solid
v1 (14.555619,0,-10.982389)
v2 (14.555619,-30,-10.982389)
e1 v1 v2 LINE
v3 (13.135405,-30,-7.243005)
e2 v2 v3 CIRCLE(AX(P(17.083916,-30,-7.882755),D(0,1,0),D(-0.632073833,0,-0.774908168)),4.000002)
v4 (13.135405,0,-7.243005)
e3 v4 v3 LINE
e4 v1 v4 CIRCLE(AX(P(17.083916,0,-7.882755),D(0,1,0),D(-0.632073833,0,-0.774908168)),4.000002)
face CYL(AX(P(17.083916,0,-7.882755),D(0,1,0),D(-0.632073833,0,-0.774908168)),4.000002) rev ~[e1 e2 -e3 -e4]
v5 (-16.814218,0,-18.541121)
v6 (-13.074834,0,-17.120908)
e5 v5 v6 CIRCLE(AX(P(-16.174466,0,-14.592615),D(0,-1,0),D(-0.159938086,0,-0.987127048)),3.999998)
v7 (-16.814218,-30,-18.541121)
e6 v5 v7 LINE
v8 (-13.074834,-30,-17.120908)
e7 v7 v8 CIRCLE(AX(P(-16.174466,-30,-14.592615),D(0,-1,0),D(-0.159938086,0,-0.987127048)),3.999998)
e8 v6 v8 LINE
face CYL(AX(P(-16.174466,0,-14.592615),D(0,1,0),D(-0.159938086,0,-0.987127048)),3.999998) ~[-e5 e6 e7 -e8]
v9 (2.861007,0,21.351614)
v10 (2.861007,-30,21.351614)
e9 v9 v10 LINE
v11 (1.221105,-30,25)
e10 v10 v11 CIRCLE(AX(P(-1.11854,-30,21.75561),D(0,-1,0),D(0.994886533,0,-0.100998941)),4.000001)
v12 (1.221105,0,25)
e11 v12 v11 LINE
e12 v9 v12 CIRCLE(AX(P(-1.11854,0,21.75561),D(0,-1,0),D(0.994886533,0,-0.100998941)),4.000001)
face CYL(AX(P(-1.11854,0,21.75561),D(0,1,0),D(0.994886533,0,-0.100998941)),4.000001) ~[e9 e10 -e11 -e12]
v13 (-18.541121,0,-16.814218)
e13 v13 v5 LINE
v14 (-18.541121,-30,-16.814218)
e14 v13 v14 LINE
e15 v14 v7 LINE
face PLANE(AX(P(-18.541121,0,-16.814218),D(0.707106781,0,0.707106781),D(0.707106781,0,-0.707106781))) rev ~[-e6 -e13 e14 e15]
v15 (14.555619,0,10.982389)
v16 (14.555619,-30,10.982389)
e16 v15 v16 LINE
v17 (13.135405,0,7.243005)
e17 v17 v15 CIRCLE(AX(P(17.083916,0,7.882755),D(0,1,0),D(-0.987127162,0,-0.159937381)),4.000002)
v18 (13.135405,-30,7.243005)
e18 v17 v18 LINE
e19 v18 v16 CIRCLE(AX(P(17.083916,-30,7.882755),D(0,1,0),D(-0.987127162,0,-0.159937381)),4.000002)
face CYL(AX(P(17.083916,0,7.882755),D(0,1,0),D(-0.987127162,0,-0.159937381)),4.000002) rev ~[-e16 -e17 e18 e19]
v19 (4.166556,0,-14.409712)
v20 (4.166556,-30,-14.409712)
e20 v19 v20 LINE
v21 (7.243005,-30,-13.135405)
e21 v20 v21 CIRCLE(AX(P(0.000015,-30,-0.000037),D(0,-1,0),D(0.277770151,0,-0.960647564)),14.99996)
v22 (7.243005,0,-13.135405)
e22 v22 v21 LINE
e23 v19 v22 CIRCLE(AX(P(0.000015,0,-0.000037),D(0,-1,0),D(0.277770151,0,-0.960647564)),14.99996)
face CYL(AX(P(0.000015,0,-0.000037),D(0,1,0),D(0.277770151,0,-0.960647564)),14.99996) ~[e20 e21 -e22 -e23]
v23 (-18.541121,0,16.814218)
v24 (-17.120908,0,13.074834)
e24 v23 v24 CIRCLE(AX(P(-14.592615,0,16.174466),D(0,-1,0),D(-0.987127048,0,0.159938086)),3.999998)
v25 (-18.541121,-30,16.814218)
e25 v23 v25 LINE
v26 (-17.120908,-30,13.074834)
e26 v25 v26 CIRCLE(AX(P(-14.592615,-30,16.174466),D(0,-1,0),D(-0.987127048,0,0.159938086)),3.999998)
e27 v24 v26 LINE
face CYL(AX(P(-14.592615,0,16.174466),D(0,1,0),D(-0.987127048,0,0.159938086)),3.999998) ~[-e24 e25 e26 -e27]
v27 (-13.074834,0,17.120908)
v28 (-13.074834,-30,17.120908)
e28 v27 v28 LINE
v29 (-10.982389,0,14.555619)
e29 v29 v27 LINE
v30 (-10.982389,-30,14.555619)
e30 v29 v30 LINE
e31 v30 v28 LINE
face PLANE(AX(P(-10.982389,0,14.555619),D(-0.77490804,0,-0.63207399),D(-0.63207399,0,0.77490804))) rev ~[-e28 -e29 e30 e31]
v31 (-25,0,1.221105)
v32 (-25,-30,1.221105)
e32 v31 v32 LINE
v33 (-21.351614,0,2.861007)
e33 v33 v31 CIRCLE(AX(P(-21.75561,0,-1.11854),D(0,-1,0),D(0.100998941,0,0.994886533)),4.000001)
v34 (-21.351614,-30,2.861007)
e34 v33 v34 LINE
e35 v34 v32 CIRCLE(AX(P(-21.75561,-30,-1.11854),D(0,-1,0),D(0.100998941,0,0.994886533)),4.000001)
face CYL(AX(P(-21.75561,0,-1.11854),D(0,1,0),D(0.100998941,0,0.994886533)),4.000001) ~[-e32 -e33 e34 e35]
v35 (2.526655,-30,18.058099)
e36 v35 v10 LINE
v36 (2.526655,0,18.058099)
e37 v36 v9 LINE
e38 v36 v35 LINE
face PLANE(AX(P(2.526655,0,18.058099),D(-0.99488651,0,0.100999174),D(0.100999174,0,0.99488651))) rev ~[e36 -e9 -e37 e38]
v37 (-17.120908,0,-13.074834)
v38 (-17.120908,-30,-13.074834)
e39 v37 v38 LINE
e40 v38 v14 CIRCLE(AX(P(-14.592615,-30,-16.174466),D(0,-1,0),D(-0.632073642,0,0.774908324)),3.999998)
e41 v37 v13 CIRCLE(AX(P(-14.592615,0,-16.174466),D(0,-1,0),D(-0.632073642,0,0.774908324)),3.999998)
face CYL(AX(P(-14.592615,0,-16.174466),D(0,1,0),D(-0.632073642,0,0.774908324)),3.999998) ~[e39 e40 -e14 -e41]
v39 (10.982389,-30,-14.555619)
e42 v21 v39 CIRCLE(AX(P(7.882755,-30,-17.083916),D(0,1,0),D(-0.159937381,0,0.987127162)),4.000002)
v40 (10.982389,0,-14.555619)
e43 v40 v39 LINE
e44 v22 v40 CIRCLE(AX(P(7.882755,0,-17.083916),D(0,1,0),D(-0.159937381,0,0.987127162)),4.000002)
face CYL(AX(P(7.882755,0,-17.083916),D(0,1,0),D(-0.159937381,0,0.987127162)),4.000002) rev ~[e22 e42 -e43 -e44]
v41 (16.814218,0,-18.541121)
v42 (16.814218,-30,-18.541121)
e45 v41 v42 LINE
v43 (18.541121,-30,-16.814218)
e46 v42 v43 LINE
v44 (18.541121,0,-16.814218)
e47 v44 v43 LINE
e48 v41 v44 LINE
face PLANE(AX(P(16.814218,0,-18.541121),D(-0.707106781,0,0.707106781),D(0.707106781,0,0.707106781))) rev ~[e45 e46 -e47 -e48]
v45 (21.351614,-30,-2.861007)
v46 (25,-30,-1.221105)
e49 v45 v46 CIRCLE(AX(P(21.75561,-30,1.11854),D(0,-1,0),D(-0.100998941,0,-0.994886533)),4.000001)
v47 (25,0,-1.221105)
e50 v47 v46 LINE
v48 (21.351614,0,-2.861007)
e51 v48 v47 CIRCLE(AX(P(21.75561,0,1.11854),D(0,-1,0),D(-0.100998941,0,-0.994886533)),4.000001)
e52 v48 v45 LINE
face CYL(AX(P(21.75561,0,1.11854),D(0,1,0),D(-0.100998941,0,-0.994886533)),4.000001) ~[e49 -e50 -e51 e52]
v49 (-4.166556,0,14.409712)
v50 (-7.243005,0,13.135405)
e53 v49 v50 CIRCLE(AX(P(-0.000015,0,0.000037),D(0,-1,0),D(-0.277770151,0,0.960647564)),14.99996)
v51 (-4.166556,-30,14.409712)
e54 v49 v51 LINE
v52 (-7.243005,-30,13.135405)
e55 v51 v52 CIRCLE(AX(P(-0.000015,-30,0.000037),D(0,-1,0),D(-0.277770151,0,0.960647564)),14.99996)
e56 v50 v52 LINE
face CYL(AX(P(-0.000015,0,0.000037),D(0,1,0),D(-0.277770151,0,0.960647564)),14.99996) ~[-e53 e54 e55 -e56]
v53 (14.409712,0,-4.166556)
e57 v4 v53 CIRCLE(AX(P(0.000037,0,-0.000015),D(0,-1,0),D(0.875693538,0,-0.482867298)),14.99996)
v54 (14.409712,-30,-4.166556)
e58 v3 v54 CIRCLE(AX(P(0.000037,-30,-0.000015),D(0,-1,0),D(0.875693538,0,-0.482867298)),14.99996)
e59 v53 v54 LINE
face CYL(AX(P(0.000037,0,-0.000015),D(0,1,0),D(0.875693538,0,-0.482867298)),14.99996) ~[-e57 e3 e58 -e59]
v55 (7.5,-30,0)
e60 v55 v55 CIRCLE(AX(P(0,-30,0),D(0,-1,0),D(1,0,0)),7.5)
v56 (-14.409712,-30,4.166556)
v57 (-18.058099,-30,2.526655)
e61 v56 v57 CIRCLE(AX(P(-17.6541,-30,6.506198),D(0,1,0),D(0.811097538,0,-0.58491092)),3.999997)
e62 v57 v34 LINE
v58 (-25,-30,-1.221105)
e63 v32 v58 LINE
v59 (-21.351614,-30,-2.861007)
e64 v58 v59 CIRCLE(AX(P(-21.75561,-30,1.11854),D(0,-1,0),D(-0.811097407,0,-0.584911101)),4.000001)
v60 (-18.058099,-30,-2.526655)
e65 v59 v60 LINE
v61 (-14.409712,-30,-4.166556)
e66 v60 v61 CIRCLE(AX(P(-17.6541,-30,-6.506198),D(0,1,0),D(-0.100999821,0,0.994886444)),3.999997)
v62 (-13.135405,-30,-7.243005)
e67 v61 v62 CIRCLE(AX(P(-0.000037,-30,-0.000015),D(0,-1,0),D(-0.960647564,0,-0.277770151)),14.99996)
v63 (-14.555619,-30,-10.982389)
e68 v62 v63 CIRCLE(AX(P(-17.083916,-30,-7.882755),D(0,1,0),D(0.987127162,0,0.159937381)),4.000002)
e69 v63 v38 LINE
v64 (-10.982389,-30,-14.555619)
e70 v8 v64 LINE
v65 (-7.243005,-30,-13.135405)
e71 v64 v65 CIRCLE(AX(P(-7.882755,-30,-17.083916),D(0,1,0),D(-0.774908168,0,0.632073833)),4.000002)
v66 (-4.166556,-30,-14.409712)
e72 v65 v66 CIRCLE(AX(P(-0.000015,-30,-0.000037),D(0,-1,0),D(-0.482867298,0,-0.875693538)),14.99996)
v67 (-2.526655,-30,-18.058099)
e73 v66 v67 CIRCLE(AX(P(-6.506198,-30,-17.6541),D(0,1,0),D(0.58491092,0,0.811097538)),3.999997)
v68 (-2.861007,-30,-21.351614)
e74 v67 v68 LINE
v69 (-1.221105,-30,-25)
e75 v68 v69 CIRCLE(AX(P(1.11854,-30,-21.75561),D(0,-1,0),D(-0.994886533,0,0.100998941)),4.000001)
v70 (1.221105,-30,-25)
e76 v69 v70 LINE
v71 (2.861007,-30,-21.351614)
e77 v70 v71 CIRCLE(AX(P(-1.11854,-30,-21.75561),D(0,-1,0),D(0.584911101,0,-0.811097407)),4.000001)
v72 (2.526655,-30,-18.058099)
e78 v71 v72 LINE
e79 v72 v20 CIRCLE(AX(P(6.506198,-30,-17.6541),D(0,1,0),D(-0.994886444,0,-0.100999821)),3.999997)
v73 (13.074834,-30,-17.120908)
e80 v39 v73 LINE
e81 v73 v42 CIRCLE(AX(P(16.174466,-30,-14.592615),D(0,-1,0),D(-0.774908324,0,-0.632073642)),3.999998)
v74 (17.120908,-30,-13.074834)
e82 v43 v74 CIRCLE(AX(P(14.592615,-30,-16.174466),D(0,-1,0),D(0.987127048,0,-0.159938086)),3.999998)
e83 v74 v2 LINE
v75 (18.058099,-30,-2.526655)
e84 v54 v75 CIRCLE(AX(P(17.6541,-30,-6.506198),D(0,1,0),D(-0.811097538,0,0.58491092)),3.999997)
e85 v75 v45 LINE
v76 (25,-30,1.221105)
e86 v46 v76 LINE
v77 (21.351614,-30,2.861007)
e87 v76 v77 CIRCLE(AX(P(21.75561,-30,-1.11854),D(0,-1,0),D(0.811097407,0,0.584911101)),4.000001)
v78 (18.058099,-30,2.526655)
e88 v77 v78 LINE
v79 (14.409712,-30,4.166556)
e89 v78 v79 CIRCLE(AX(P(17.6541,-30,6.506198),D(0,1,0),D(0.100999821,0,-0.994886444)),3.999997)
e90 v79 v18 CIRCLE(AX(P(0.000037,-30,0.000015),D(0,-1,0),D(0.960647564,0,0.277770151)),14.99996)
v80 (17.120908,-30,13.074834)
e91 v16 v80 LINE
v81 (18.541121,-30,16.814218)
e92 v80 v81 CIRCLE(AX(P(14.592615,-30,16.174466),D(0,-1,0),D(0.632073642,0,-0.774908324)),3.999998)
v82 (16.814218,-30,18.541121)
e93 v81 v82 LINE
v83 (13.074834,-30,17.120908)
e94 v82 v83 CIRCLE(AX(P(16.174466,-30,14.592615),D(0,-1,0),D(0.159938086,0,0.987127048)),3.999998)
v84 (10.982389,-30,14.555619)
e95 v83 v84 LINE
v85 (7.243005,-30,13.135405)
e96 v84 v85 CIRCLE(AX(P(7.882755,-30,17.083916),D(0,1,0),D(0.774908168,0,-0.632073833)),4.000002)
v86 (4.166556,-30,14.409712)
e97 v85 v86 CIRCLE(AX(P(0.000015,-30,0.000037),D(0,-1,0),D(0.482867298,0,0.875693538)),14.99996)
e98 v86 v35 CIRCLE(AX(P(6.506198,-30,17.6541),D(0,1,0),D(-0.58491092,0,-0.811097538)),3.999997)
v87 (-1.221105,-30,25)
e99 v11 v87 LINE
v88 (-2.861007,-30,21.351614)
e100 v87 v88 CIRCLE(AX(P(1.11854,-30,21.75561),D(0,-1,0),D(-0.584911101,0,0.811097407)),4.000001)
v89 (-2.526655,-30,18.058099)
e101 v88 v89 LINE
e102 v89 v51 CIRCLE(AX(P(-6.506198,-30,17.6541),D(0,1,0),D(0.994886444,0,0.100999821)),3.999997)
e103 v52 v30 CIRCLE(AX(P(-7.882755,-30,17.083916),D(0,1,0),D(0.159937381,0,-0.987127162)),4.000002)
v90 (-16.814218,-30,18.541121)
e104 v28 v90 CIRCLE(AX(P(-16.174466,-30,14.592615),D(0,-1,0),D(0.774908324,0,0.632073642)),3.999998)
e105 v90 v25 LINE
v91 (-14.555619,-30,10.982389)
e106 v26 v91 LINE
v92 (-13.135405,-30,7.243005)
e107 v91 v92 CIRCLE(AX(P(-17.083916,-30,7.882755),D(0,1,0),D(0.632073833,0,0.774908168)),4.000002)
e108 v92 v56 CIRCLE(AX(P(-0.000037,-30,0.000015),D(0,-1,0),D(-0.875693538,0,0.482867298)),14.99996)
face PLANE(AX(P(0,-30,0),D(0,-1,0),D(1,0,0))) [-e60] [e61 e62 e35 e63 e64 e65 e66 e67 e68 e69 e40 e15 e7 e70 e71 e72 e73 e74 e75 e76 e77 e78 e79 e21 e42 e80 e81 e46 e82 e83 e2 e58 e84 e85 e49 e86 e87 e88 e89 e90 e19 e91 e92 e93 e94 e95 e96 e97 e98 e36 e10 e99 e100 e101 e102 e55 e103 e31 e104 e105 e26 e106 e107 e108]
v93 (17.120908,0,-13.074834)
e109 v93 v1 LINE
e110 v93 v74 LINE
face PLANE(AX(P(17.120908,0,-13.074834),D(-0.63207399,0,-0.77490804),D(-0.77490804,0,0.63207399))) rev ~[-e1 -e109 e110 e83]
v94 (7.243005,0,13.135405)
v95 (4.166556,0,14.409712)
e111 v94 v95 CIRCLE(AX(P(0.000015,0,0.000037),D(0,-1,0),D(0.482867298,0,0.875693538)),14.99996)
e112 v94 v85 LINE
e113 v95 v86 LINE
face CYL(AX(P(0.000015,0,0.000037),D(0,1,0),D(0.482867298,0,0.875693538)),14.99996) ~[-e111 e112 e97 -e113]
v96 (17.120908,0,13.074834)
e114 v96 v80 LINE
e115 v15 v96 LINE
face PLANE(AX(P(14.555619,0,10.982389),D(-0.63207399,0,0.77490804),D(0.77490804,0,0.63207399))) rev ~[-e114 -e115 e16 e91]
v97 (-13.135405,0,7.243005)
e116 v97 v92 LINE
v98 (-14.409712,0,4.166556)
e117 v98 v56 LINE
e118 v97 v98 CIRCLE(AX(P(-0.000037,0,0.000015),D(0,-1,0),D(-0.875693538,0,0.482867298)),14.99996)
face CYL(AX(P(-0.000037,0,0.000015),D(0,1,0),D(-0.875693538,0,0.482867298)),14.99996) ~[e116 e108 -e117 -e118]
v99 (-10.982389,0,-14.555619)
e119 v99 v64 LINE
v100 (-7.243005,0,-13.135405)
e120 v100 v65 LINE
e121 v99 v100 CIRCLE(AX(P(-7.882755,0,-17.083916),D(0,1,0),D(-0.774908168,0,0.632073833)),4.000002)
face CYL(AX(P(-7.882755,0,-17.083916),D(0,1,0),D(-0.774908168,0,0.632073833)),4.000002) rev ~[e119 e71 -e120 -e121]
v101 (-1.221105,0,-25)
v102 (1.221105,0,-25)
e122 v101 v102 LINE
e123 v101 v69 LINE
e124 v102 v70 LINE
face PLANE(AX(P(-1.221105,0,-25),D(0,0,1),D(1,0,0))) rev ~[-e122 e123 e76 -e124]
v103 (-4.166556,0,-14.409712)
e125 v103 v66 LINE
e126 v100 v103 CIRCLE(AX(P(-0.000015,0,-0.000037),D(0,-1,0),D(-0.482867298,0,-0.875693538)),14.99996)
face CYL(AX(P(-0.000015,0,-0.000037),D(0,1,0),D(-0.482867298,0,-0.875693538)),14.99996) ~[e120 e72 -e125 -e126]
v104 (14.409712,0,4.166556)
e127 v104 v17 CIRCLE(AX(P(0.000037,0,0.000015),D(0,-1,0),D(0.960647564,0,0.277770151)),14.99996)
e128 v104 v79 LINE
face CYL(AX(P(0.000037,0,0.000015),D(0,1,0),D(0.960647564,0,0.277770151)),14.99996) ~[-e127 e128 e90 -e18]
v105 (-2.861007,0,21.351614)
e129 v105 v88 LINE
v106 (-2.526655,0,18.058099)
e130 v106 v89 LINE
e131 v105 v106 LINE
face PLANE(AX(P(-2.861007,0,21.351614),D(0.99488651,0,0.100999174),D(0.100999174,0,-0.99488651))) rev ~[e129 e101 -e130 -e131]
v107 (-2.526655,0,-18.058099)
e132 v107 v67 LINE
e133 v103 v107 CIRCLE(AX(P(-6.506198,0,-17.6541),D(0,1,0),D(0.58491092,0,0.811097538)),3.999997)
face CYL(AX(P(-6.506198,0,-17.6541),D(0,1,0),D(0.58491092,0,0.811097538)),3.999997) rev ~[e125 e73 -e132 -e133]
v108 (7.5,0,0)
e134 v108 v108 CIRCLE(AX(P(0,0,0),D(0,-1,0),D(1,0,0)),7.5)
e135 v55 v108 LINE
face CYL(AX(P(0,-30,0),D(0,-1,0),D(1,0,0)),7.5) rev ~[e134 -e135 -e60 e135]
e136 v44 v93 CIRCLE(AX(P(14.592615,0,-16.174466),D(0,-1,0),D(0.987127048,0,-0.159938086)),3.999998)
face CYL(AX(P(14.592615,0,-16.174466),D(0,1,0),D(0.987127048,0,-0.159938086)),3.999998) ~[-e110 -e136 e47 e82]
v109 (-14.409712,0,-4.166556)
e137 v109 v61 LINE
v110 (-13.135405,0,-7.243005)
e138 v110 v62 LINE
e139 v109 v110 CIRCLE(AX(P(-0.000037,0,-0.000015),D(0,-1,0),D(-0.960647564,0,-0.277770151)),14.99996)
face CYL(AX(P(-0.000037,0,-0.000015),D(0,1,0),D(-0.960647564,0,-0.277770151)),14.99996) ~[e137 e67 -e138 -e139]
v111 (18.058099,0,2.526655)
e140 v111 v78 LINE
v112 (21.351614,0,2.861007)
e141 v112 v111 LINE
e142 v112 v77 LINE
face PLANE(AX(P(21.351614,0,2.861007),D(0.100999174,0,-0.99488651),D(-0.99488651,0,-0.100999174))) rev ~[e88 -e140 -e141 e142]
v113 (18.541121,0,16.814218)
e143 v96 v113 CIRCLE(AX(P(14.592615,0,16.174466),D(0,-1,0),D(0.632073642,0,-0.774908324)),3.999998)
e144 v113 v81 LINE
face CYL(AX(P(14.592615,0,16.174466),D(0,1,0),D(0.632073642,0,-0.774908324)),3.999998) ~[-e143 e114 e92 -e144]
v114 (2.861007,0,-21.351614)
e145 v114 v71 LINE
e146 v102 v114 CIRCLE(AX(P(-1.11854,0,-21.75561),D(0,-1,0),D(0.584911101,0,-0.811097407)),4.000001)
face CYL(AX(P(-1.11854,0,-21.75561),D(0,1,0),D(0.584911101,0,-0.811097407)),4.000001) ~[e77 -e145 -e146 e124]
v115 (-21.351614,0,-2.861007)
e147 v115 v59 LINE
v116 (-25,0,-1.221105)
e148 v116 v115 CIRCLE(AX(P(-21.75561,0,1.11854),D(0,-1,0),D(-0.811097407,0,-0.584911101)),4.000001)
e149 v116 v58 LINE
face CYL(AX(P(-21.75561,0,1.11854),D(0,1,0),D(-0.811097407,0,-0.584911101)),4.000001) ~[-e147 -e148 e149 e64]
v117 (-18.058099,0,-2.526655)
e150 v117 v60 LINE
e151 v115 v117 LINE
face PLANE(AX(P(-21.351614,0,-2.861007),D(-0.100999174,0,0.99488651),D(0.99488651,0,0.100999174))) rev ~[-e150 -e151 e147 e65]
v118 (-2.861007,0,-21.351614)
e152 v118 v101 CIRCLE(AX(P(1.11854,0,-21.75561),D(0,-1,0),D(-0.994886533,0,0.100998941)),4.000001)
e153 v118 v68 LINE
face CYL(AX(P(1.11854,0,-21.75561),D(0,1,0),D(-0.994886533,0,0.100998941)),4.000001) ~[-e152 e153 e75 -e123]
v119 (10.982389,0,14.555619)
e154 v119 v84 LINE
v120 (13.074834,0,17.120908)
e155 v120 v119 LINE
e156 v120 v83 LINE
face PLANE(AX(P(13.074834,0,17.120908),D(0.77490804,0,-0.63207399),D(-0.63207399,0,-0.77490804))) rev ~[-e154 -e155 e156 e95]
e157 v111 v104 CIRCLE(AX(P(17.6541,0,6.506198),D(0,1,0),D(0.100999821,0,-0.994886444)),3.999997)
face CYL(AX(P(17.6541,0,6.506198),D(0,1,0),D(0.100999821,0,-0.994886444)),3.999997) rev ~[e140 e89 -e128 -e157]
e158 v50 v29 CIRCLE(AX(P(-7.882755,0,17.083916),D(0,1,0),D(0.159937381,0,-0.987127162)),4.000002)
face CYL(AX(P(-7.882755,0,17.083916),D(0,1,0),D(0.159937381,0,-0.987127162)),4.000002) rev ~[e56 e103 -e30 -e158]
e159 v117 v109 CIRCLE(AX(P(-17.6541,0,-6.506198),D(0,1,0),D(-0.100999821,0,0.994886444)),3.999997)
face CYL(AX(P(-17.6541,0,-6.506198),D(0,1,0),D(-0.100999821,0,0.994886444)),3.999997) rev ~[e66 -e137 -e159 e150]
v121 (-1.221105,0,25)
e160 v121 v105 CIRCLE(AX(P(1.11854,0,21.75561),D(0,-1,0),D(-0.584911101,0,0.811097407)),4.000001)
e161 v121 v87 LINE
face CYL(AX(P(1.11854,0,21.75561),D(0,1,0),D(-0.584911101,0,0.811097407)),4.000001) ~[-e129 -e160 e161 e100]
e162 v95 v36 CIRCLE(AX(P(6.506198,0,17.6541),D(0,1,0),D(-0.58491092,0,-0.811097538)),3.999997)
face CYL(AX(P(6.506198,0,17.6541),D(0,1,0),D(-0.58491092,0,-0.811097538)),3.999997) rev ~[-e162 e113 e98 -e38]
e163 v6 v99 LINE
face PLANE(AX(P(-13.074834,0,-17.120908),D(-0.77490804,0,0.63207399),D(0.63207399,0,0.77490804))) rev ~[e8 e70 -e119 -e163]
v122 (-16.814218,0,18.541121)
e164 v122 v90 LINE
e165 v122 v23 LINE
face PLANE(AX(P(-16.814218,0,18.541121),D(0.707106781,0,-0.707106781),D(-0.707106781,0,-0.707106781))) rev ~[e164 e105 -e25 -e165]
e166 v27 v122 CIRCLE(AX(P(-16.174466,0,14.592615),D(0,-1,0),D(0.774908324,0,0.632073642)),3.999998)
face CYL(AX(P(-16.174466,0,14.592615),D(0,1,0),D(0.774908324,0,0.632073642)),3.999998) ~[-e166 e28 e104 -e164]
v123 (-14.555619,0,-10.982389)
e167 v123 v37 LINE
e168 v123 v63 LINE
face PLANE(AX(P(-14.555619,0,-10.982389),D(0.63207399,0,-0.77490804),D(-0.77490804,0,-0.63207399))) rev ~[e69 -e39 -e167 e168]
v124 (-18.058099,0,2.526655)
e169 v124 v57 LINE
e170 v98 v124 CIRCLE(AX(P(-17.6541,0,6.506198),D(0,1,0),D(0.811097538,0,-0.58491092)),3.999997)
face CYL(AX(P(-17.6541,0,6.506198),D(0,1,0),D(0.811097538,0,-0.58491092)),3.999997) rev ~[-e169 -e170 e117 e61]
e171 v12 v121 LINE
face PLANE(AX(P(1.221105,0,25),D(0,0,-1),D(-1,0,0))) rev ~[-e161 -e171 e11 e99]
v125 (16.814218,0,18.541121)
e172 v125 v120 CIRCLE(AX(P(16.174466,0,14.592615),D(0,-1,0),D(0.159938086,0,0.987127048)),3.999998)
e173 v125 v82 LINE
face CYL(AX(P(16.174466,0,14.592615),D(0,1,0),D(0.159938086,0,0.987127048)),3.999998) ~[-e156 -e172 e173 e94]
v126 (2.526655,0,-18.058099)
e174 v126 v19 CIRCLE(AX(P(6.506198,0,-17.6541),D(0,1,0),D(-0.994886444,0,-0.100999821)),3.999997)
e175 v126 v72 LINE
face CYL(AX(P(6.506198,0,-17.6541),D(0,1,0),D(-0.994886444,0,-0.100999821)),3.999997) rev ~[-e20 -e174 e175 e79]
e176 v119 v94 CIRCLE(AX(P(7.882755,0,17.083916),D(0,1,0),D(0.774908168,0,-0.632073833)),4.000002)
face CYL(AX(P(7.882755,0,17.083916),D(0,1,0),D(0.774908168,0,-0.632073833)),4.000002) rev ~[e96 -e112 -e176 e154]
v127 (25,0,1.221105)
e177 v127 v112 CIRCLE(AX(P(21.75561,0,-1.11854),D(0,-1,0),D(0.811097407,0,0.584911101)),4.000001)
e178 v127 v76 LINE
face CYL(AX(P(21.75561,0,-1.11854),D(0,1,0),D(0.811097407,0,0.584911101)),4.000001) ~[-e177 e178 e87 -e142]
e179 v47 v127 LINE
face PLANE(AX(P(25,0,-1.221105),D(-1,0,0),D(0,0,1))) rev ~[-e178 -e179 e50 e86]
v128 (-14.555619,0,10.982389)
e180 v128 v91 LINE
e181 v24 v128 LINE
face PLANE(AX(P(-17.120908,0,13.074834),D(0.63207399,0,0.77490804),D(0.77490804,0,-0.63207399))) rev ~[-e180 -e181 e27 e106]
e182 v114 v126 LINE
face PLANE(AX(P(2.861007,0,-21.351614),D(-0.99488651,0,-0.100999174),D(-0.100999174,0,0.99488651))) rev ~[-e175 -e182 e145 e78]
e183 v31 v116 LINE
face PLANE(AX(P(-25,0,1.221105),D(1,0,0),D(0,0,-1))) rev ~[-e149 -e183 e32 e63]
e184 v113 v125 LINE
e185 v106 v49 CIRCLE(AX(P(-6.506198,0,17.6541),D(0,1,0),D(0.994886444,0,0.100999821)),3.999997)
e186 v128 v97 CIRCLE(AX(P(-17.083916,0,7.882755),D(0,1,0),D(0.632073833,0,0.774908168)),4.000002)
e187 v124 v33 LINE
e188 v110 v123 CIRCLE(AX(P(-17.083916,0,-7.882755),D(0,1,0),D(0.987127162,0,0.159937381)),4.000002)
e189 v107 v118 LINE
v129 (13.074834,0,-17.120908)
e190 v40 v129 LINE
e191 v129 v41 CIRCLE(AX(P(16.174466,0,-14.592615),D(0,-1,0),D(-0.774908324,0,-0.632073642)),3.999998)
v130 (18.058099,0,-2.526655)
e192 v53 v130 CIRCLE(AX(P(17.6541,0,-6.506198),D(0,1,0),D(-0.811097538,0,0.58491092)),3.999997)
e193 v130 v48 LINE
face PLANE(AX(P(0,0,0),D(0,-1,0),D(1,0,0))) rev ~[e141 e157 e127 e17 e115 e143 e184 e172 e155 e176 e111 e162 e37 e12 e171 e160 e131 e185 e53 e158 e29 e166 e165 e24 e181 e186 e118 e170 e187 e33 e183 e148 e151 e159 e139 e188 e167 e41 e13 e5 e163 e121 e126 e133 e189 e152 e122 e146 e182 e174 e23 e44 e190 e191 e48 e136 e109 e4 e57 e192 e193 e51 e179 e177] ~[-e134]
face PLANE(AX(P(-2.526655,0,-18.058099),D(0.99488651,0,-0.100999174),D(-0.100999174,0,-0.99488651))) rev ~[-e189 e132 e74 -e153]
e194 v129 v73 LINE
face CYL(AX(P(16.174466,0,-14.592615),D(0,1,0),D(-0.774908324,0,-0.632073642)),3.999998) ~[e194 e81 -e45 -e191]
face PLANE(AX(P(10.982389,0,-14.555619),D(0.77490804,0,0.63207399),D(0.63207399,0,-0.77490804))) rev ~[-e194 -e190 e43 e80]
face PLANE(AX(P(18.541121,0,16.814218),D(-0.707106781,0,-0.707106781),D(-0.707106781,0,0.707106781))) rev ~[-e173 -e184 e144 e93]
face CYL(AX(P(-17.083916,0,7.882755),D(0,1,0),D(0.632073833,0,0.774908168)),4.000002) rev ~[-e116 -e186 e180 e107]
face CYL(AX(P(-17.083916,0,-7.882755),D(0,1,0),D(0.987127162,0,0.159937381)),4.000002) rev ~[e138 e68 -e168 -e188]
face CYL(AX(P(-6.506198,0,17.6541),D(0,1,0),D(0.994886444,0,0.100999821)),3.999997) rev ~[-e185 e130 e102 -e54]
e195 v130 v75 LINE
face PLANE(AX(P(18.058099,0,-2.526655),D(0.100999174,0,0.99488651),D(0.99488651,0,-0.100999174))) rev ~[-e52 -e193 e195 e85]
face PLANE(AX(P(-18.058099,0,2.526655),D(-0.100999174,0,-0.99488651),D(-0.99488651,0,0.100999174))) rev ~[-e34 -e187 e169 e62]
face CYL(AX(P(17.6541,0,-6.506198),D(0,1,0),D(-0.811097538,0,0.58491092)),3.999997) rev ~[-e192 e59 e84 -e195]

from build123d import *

# Parameters (mm, degrees)
F1_DEPTH = 30
F2_R     = 7.5
F3_DEPTH = 30.001


with BuildPart() as f1:
    # F0 (on Front) → F1 (new body)
    with BuildSketch(Plane.XZ):
        with BuildLine():
            ThreePointArc((-14.555619, 10.982389), (-13.34453, 9.30297), (-13.135405, 7.243005))
            ThreePointArc((-13.135405, 7.243005), (-13.858193, 5.740251), (-14.409712, 4.166556))
            ThreePointArc((-14.409712, 4.166556), (-16.0142, 2.857814), (-18.058099, 2.526655))
            Line((-18.058099, 2.526655), (-21.351614, 2.861007))
            ThreePointArc((-21.351614, 2.861007), (-23.395512, 2.529847), (-25, 1.221105))
            Line((-25, 1.221105), (-25, -1.221105))
            ThreePointArc((-25, -1.221105), (-23.395512, -2.529847), (-21.351614, -2.861007))
            Line((-21.351614, -2.861007), (-18.058099, -2.526655))
            ThreePointArc((-18.058099, -2.526655), (-16.0142, -2.857814), (-14.409712, -4.166556))
            ThreePointArc((-14.409712, -4.166556), (-13.858193, -5.740251), (-13.135405, -7.243005))
            ThreePointArc((-13.135405, -7.243005), (-13.34453, -9.30297), (-14.555619, -10.982389))
            Line((-14.555619, -10.982389), (-17.120908, -13.074834))
            ThreePointArc((-17.120908, -13.074834), (-18.331997, -14.754253), (-18.541121, -16.814218))
            Line((-18.541121, -16.814218), (-16.814218, -18.541121))
            ThreePointArc((-16.814218, -18.541121), (-14.754253, -18.331997), (-13.074834, -17.120908))
            Line((-13.074834, -17.120908), (-10.982389, -14.555619))
            ThreePointArc((-10.982389, -14.555619), (-9.30297, -13.34453), (-7.243005, -13.135405))
            ThreePointArc((-7.243005, -13.135405), (-5.740251, -13.858193), (-4.166556, -14.409712))
            ThreePointArc((-4.166556, -14.409712), (-2.857814, -16.0142), (-2.526655, -18.058099))
            Line((-2.526655, -18.058099), (-2.861007, -21.351614))
            ThreePointArc((-2.861007, -21.351614), (-2.529847, -23.395512), (-1.221105, -25))
            Line((-1.221105, -25), (1.221105, -25))
            ThreePointArc((1.221105, -25), (2.529847, -23.395512), (2.861007, -21.351614))
            Line((2.861007, -21.351614), (2.526655, -18.058099))
            ThreePointArc((2.526655, -18.058099), (2.857814, -16.0142), (4.166556, -14.409712))
            ThreePointArc((4.166556, -14.409712), (5.740251, -13.858193), (7.243005, -13.135405))
            ThreePointArc((7.243005, -13.135405), (9.30297, -13.34453), (10.982389, -14.555619))
            Line((10.982389, -14.555619), (13.074834, -17.120908))
            ThreePointArc((13.074834, -17.120908), (14.754253, -18.331997), (16.814218, -18.541121))
            Line((16.814218, -18.541121), (18.541121, -16.814218))
            ThreePointArc((18.541121, -16.814218), (18.331997, -14.754253), (17.120908, -13.074834))
            Line((17.120908, -13.074834), (14.555619, -10.982389))
            ThreePointArc((14.555619, -10.982389), (13.34453, -9.30297), (13.135405, -7.243005))
            ThreePointArc((13.135405, -7.243005), (13.858193, -5.740251), (14.409712, -4.166556))
            ThreePointArc((14.409712, -4.166556), (16.0142, -2.857814), (18.058099, -2.526655))
            Line((18.058099, -2.526655), (21.351614, -2.861007))
            ThreePointArc((21.351614, -2.861007), (23.395512, -2.529847), (25, -1.221105))
            Line((25, -1.221105), (25, 1.221105))
            ThreePointArc((25, 1.221105), (23.395512, 2.529847), (21.351614, 2.861007))
            Line((21.351614, 2.861007), (18.058099, 2.526655))
            ThreePointArc((18.058099, 2.526655), (16.0142, 2.857814), (14.409712, 4.166556))
            ThreePointArc((14.409712, 4.166556), (13.858193, 5.740251), (13.135405, 7.243005))
            ThreePointArc((13.135405, 7.243005), (13.34453, 9.30297), (14.555619, 10.982389))
            Line((14.555619, 10.982389), (17.120908, 13.074834))
            ThreePointArc((17.120908, 13.074834), (18.331997, 14.754253), (18.541121, 16.814218))
            Line((18.541121, 16.814218), (16.814218, 18.541121))
            ThreePointArc((16.814218, 18.541121), (14.754253, 18.331997), (13.074834, 17.120908))
            Line((13.074834, 17.120908), (10.982389, 14.555619))
            ThreePointArc((10.982389, 14.555619), (9.30297, 13.34453), (7.243005, 13.135405))
            ThreePointArc((7.243005, 13.135405), (5.740251, 13.858193), (4.166556, 14.409712))
            ThreePointArc((4.166556, 14.409712), (2.857814, 16.0142), (2.526655, 18.058099))
            Line((2.526655, 18.058099), (2.861007, 21.351614))
            ThreePointArc((2.861007, 21.351614), (2.529847, 23.395512), (1.221105, 25))
            Line((1.221105, 25), (-1.221105, 25))
            ThreePointArc((-1.221105, 25), (-2.529847, 23.395512), (-2.861007, 21.351614))
            Line((-2.861007, 21.351614), (-2.526655, 18.058099))
            ThreePointArc((-2.526655, 18.058099), (-2.857814, 16.0142), (-4.166556, 14.409712))
            ThreePointArc((-4.166556, 14.409712), (-5.740251, 13.858193), (-7.243005, 13.135405))
            ThreePointArc((-7.243005, 13.135405), (-9.30297, 13.34453), (-10.982389, 14.555619))
            Line((-10.982389, 14.555619), (-13.074834, 17.120908))
            ThreePointArc((-13.074834, 17.120908), (-14.754253, 18.331997), (-16.814218, 18.541121))
            Line((-16.814218, 18.541121), (-18.541121, 16.814218))
            ThreePointArc((-18.541121, 16.814218), (-18.331997, 14.754253), (-17.120908, 13.074834))
            Line((-17.120908, 13.074834), (-14.555619, 10.982389))
        make_face()
    extrude(amount=F1_DEPTH)

    # F2 (on face) → F3 (cut, through all)
    with BuildSketch(Plane.XZ.offset(30)):
        Circle(F2_R)
    extrude(amount=-F3_DEPTH, mode=Mode.SUBTRACT)


solid = f1.part
